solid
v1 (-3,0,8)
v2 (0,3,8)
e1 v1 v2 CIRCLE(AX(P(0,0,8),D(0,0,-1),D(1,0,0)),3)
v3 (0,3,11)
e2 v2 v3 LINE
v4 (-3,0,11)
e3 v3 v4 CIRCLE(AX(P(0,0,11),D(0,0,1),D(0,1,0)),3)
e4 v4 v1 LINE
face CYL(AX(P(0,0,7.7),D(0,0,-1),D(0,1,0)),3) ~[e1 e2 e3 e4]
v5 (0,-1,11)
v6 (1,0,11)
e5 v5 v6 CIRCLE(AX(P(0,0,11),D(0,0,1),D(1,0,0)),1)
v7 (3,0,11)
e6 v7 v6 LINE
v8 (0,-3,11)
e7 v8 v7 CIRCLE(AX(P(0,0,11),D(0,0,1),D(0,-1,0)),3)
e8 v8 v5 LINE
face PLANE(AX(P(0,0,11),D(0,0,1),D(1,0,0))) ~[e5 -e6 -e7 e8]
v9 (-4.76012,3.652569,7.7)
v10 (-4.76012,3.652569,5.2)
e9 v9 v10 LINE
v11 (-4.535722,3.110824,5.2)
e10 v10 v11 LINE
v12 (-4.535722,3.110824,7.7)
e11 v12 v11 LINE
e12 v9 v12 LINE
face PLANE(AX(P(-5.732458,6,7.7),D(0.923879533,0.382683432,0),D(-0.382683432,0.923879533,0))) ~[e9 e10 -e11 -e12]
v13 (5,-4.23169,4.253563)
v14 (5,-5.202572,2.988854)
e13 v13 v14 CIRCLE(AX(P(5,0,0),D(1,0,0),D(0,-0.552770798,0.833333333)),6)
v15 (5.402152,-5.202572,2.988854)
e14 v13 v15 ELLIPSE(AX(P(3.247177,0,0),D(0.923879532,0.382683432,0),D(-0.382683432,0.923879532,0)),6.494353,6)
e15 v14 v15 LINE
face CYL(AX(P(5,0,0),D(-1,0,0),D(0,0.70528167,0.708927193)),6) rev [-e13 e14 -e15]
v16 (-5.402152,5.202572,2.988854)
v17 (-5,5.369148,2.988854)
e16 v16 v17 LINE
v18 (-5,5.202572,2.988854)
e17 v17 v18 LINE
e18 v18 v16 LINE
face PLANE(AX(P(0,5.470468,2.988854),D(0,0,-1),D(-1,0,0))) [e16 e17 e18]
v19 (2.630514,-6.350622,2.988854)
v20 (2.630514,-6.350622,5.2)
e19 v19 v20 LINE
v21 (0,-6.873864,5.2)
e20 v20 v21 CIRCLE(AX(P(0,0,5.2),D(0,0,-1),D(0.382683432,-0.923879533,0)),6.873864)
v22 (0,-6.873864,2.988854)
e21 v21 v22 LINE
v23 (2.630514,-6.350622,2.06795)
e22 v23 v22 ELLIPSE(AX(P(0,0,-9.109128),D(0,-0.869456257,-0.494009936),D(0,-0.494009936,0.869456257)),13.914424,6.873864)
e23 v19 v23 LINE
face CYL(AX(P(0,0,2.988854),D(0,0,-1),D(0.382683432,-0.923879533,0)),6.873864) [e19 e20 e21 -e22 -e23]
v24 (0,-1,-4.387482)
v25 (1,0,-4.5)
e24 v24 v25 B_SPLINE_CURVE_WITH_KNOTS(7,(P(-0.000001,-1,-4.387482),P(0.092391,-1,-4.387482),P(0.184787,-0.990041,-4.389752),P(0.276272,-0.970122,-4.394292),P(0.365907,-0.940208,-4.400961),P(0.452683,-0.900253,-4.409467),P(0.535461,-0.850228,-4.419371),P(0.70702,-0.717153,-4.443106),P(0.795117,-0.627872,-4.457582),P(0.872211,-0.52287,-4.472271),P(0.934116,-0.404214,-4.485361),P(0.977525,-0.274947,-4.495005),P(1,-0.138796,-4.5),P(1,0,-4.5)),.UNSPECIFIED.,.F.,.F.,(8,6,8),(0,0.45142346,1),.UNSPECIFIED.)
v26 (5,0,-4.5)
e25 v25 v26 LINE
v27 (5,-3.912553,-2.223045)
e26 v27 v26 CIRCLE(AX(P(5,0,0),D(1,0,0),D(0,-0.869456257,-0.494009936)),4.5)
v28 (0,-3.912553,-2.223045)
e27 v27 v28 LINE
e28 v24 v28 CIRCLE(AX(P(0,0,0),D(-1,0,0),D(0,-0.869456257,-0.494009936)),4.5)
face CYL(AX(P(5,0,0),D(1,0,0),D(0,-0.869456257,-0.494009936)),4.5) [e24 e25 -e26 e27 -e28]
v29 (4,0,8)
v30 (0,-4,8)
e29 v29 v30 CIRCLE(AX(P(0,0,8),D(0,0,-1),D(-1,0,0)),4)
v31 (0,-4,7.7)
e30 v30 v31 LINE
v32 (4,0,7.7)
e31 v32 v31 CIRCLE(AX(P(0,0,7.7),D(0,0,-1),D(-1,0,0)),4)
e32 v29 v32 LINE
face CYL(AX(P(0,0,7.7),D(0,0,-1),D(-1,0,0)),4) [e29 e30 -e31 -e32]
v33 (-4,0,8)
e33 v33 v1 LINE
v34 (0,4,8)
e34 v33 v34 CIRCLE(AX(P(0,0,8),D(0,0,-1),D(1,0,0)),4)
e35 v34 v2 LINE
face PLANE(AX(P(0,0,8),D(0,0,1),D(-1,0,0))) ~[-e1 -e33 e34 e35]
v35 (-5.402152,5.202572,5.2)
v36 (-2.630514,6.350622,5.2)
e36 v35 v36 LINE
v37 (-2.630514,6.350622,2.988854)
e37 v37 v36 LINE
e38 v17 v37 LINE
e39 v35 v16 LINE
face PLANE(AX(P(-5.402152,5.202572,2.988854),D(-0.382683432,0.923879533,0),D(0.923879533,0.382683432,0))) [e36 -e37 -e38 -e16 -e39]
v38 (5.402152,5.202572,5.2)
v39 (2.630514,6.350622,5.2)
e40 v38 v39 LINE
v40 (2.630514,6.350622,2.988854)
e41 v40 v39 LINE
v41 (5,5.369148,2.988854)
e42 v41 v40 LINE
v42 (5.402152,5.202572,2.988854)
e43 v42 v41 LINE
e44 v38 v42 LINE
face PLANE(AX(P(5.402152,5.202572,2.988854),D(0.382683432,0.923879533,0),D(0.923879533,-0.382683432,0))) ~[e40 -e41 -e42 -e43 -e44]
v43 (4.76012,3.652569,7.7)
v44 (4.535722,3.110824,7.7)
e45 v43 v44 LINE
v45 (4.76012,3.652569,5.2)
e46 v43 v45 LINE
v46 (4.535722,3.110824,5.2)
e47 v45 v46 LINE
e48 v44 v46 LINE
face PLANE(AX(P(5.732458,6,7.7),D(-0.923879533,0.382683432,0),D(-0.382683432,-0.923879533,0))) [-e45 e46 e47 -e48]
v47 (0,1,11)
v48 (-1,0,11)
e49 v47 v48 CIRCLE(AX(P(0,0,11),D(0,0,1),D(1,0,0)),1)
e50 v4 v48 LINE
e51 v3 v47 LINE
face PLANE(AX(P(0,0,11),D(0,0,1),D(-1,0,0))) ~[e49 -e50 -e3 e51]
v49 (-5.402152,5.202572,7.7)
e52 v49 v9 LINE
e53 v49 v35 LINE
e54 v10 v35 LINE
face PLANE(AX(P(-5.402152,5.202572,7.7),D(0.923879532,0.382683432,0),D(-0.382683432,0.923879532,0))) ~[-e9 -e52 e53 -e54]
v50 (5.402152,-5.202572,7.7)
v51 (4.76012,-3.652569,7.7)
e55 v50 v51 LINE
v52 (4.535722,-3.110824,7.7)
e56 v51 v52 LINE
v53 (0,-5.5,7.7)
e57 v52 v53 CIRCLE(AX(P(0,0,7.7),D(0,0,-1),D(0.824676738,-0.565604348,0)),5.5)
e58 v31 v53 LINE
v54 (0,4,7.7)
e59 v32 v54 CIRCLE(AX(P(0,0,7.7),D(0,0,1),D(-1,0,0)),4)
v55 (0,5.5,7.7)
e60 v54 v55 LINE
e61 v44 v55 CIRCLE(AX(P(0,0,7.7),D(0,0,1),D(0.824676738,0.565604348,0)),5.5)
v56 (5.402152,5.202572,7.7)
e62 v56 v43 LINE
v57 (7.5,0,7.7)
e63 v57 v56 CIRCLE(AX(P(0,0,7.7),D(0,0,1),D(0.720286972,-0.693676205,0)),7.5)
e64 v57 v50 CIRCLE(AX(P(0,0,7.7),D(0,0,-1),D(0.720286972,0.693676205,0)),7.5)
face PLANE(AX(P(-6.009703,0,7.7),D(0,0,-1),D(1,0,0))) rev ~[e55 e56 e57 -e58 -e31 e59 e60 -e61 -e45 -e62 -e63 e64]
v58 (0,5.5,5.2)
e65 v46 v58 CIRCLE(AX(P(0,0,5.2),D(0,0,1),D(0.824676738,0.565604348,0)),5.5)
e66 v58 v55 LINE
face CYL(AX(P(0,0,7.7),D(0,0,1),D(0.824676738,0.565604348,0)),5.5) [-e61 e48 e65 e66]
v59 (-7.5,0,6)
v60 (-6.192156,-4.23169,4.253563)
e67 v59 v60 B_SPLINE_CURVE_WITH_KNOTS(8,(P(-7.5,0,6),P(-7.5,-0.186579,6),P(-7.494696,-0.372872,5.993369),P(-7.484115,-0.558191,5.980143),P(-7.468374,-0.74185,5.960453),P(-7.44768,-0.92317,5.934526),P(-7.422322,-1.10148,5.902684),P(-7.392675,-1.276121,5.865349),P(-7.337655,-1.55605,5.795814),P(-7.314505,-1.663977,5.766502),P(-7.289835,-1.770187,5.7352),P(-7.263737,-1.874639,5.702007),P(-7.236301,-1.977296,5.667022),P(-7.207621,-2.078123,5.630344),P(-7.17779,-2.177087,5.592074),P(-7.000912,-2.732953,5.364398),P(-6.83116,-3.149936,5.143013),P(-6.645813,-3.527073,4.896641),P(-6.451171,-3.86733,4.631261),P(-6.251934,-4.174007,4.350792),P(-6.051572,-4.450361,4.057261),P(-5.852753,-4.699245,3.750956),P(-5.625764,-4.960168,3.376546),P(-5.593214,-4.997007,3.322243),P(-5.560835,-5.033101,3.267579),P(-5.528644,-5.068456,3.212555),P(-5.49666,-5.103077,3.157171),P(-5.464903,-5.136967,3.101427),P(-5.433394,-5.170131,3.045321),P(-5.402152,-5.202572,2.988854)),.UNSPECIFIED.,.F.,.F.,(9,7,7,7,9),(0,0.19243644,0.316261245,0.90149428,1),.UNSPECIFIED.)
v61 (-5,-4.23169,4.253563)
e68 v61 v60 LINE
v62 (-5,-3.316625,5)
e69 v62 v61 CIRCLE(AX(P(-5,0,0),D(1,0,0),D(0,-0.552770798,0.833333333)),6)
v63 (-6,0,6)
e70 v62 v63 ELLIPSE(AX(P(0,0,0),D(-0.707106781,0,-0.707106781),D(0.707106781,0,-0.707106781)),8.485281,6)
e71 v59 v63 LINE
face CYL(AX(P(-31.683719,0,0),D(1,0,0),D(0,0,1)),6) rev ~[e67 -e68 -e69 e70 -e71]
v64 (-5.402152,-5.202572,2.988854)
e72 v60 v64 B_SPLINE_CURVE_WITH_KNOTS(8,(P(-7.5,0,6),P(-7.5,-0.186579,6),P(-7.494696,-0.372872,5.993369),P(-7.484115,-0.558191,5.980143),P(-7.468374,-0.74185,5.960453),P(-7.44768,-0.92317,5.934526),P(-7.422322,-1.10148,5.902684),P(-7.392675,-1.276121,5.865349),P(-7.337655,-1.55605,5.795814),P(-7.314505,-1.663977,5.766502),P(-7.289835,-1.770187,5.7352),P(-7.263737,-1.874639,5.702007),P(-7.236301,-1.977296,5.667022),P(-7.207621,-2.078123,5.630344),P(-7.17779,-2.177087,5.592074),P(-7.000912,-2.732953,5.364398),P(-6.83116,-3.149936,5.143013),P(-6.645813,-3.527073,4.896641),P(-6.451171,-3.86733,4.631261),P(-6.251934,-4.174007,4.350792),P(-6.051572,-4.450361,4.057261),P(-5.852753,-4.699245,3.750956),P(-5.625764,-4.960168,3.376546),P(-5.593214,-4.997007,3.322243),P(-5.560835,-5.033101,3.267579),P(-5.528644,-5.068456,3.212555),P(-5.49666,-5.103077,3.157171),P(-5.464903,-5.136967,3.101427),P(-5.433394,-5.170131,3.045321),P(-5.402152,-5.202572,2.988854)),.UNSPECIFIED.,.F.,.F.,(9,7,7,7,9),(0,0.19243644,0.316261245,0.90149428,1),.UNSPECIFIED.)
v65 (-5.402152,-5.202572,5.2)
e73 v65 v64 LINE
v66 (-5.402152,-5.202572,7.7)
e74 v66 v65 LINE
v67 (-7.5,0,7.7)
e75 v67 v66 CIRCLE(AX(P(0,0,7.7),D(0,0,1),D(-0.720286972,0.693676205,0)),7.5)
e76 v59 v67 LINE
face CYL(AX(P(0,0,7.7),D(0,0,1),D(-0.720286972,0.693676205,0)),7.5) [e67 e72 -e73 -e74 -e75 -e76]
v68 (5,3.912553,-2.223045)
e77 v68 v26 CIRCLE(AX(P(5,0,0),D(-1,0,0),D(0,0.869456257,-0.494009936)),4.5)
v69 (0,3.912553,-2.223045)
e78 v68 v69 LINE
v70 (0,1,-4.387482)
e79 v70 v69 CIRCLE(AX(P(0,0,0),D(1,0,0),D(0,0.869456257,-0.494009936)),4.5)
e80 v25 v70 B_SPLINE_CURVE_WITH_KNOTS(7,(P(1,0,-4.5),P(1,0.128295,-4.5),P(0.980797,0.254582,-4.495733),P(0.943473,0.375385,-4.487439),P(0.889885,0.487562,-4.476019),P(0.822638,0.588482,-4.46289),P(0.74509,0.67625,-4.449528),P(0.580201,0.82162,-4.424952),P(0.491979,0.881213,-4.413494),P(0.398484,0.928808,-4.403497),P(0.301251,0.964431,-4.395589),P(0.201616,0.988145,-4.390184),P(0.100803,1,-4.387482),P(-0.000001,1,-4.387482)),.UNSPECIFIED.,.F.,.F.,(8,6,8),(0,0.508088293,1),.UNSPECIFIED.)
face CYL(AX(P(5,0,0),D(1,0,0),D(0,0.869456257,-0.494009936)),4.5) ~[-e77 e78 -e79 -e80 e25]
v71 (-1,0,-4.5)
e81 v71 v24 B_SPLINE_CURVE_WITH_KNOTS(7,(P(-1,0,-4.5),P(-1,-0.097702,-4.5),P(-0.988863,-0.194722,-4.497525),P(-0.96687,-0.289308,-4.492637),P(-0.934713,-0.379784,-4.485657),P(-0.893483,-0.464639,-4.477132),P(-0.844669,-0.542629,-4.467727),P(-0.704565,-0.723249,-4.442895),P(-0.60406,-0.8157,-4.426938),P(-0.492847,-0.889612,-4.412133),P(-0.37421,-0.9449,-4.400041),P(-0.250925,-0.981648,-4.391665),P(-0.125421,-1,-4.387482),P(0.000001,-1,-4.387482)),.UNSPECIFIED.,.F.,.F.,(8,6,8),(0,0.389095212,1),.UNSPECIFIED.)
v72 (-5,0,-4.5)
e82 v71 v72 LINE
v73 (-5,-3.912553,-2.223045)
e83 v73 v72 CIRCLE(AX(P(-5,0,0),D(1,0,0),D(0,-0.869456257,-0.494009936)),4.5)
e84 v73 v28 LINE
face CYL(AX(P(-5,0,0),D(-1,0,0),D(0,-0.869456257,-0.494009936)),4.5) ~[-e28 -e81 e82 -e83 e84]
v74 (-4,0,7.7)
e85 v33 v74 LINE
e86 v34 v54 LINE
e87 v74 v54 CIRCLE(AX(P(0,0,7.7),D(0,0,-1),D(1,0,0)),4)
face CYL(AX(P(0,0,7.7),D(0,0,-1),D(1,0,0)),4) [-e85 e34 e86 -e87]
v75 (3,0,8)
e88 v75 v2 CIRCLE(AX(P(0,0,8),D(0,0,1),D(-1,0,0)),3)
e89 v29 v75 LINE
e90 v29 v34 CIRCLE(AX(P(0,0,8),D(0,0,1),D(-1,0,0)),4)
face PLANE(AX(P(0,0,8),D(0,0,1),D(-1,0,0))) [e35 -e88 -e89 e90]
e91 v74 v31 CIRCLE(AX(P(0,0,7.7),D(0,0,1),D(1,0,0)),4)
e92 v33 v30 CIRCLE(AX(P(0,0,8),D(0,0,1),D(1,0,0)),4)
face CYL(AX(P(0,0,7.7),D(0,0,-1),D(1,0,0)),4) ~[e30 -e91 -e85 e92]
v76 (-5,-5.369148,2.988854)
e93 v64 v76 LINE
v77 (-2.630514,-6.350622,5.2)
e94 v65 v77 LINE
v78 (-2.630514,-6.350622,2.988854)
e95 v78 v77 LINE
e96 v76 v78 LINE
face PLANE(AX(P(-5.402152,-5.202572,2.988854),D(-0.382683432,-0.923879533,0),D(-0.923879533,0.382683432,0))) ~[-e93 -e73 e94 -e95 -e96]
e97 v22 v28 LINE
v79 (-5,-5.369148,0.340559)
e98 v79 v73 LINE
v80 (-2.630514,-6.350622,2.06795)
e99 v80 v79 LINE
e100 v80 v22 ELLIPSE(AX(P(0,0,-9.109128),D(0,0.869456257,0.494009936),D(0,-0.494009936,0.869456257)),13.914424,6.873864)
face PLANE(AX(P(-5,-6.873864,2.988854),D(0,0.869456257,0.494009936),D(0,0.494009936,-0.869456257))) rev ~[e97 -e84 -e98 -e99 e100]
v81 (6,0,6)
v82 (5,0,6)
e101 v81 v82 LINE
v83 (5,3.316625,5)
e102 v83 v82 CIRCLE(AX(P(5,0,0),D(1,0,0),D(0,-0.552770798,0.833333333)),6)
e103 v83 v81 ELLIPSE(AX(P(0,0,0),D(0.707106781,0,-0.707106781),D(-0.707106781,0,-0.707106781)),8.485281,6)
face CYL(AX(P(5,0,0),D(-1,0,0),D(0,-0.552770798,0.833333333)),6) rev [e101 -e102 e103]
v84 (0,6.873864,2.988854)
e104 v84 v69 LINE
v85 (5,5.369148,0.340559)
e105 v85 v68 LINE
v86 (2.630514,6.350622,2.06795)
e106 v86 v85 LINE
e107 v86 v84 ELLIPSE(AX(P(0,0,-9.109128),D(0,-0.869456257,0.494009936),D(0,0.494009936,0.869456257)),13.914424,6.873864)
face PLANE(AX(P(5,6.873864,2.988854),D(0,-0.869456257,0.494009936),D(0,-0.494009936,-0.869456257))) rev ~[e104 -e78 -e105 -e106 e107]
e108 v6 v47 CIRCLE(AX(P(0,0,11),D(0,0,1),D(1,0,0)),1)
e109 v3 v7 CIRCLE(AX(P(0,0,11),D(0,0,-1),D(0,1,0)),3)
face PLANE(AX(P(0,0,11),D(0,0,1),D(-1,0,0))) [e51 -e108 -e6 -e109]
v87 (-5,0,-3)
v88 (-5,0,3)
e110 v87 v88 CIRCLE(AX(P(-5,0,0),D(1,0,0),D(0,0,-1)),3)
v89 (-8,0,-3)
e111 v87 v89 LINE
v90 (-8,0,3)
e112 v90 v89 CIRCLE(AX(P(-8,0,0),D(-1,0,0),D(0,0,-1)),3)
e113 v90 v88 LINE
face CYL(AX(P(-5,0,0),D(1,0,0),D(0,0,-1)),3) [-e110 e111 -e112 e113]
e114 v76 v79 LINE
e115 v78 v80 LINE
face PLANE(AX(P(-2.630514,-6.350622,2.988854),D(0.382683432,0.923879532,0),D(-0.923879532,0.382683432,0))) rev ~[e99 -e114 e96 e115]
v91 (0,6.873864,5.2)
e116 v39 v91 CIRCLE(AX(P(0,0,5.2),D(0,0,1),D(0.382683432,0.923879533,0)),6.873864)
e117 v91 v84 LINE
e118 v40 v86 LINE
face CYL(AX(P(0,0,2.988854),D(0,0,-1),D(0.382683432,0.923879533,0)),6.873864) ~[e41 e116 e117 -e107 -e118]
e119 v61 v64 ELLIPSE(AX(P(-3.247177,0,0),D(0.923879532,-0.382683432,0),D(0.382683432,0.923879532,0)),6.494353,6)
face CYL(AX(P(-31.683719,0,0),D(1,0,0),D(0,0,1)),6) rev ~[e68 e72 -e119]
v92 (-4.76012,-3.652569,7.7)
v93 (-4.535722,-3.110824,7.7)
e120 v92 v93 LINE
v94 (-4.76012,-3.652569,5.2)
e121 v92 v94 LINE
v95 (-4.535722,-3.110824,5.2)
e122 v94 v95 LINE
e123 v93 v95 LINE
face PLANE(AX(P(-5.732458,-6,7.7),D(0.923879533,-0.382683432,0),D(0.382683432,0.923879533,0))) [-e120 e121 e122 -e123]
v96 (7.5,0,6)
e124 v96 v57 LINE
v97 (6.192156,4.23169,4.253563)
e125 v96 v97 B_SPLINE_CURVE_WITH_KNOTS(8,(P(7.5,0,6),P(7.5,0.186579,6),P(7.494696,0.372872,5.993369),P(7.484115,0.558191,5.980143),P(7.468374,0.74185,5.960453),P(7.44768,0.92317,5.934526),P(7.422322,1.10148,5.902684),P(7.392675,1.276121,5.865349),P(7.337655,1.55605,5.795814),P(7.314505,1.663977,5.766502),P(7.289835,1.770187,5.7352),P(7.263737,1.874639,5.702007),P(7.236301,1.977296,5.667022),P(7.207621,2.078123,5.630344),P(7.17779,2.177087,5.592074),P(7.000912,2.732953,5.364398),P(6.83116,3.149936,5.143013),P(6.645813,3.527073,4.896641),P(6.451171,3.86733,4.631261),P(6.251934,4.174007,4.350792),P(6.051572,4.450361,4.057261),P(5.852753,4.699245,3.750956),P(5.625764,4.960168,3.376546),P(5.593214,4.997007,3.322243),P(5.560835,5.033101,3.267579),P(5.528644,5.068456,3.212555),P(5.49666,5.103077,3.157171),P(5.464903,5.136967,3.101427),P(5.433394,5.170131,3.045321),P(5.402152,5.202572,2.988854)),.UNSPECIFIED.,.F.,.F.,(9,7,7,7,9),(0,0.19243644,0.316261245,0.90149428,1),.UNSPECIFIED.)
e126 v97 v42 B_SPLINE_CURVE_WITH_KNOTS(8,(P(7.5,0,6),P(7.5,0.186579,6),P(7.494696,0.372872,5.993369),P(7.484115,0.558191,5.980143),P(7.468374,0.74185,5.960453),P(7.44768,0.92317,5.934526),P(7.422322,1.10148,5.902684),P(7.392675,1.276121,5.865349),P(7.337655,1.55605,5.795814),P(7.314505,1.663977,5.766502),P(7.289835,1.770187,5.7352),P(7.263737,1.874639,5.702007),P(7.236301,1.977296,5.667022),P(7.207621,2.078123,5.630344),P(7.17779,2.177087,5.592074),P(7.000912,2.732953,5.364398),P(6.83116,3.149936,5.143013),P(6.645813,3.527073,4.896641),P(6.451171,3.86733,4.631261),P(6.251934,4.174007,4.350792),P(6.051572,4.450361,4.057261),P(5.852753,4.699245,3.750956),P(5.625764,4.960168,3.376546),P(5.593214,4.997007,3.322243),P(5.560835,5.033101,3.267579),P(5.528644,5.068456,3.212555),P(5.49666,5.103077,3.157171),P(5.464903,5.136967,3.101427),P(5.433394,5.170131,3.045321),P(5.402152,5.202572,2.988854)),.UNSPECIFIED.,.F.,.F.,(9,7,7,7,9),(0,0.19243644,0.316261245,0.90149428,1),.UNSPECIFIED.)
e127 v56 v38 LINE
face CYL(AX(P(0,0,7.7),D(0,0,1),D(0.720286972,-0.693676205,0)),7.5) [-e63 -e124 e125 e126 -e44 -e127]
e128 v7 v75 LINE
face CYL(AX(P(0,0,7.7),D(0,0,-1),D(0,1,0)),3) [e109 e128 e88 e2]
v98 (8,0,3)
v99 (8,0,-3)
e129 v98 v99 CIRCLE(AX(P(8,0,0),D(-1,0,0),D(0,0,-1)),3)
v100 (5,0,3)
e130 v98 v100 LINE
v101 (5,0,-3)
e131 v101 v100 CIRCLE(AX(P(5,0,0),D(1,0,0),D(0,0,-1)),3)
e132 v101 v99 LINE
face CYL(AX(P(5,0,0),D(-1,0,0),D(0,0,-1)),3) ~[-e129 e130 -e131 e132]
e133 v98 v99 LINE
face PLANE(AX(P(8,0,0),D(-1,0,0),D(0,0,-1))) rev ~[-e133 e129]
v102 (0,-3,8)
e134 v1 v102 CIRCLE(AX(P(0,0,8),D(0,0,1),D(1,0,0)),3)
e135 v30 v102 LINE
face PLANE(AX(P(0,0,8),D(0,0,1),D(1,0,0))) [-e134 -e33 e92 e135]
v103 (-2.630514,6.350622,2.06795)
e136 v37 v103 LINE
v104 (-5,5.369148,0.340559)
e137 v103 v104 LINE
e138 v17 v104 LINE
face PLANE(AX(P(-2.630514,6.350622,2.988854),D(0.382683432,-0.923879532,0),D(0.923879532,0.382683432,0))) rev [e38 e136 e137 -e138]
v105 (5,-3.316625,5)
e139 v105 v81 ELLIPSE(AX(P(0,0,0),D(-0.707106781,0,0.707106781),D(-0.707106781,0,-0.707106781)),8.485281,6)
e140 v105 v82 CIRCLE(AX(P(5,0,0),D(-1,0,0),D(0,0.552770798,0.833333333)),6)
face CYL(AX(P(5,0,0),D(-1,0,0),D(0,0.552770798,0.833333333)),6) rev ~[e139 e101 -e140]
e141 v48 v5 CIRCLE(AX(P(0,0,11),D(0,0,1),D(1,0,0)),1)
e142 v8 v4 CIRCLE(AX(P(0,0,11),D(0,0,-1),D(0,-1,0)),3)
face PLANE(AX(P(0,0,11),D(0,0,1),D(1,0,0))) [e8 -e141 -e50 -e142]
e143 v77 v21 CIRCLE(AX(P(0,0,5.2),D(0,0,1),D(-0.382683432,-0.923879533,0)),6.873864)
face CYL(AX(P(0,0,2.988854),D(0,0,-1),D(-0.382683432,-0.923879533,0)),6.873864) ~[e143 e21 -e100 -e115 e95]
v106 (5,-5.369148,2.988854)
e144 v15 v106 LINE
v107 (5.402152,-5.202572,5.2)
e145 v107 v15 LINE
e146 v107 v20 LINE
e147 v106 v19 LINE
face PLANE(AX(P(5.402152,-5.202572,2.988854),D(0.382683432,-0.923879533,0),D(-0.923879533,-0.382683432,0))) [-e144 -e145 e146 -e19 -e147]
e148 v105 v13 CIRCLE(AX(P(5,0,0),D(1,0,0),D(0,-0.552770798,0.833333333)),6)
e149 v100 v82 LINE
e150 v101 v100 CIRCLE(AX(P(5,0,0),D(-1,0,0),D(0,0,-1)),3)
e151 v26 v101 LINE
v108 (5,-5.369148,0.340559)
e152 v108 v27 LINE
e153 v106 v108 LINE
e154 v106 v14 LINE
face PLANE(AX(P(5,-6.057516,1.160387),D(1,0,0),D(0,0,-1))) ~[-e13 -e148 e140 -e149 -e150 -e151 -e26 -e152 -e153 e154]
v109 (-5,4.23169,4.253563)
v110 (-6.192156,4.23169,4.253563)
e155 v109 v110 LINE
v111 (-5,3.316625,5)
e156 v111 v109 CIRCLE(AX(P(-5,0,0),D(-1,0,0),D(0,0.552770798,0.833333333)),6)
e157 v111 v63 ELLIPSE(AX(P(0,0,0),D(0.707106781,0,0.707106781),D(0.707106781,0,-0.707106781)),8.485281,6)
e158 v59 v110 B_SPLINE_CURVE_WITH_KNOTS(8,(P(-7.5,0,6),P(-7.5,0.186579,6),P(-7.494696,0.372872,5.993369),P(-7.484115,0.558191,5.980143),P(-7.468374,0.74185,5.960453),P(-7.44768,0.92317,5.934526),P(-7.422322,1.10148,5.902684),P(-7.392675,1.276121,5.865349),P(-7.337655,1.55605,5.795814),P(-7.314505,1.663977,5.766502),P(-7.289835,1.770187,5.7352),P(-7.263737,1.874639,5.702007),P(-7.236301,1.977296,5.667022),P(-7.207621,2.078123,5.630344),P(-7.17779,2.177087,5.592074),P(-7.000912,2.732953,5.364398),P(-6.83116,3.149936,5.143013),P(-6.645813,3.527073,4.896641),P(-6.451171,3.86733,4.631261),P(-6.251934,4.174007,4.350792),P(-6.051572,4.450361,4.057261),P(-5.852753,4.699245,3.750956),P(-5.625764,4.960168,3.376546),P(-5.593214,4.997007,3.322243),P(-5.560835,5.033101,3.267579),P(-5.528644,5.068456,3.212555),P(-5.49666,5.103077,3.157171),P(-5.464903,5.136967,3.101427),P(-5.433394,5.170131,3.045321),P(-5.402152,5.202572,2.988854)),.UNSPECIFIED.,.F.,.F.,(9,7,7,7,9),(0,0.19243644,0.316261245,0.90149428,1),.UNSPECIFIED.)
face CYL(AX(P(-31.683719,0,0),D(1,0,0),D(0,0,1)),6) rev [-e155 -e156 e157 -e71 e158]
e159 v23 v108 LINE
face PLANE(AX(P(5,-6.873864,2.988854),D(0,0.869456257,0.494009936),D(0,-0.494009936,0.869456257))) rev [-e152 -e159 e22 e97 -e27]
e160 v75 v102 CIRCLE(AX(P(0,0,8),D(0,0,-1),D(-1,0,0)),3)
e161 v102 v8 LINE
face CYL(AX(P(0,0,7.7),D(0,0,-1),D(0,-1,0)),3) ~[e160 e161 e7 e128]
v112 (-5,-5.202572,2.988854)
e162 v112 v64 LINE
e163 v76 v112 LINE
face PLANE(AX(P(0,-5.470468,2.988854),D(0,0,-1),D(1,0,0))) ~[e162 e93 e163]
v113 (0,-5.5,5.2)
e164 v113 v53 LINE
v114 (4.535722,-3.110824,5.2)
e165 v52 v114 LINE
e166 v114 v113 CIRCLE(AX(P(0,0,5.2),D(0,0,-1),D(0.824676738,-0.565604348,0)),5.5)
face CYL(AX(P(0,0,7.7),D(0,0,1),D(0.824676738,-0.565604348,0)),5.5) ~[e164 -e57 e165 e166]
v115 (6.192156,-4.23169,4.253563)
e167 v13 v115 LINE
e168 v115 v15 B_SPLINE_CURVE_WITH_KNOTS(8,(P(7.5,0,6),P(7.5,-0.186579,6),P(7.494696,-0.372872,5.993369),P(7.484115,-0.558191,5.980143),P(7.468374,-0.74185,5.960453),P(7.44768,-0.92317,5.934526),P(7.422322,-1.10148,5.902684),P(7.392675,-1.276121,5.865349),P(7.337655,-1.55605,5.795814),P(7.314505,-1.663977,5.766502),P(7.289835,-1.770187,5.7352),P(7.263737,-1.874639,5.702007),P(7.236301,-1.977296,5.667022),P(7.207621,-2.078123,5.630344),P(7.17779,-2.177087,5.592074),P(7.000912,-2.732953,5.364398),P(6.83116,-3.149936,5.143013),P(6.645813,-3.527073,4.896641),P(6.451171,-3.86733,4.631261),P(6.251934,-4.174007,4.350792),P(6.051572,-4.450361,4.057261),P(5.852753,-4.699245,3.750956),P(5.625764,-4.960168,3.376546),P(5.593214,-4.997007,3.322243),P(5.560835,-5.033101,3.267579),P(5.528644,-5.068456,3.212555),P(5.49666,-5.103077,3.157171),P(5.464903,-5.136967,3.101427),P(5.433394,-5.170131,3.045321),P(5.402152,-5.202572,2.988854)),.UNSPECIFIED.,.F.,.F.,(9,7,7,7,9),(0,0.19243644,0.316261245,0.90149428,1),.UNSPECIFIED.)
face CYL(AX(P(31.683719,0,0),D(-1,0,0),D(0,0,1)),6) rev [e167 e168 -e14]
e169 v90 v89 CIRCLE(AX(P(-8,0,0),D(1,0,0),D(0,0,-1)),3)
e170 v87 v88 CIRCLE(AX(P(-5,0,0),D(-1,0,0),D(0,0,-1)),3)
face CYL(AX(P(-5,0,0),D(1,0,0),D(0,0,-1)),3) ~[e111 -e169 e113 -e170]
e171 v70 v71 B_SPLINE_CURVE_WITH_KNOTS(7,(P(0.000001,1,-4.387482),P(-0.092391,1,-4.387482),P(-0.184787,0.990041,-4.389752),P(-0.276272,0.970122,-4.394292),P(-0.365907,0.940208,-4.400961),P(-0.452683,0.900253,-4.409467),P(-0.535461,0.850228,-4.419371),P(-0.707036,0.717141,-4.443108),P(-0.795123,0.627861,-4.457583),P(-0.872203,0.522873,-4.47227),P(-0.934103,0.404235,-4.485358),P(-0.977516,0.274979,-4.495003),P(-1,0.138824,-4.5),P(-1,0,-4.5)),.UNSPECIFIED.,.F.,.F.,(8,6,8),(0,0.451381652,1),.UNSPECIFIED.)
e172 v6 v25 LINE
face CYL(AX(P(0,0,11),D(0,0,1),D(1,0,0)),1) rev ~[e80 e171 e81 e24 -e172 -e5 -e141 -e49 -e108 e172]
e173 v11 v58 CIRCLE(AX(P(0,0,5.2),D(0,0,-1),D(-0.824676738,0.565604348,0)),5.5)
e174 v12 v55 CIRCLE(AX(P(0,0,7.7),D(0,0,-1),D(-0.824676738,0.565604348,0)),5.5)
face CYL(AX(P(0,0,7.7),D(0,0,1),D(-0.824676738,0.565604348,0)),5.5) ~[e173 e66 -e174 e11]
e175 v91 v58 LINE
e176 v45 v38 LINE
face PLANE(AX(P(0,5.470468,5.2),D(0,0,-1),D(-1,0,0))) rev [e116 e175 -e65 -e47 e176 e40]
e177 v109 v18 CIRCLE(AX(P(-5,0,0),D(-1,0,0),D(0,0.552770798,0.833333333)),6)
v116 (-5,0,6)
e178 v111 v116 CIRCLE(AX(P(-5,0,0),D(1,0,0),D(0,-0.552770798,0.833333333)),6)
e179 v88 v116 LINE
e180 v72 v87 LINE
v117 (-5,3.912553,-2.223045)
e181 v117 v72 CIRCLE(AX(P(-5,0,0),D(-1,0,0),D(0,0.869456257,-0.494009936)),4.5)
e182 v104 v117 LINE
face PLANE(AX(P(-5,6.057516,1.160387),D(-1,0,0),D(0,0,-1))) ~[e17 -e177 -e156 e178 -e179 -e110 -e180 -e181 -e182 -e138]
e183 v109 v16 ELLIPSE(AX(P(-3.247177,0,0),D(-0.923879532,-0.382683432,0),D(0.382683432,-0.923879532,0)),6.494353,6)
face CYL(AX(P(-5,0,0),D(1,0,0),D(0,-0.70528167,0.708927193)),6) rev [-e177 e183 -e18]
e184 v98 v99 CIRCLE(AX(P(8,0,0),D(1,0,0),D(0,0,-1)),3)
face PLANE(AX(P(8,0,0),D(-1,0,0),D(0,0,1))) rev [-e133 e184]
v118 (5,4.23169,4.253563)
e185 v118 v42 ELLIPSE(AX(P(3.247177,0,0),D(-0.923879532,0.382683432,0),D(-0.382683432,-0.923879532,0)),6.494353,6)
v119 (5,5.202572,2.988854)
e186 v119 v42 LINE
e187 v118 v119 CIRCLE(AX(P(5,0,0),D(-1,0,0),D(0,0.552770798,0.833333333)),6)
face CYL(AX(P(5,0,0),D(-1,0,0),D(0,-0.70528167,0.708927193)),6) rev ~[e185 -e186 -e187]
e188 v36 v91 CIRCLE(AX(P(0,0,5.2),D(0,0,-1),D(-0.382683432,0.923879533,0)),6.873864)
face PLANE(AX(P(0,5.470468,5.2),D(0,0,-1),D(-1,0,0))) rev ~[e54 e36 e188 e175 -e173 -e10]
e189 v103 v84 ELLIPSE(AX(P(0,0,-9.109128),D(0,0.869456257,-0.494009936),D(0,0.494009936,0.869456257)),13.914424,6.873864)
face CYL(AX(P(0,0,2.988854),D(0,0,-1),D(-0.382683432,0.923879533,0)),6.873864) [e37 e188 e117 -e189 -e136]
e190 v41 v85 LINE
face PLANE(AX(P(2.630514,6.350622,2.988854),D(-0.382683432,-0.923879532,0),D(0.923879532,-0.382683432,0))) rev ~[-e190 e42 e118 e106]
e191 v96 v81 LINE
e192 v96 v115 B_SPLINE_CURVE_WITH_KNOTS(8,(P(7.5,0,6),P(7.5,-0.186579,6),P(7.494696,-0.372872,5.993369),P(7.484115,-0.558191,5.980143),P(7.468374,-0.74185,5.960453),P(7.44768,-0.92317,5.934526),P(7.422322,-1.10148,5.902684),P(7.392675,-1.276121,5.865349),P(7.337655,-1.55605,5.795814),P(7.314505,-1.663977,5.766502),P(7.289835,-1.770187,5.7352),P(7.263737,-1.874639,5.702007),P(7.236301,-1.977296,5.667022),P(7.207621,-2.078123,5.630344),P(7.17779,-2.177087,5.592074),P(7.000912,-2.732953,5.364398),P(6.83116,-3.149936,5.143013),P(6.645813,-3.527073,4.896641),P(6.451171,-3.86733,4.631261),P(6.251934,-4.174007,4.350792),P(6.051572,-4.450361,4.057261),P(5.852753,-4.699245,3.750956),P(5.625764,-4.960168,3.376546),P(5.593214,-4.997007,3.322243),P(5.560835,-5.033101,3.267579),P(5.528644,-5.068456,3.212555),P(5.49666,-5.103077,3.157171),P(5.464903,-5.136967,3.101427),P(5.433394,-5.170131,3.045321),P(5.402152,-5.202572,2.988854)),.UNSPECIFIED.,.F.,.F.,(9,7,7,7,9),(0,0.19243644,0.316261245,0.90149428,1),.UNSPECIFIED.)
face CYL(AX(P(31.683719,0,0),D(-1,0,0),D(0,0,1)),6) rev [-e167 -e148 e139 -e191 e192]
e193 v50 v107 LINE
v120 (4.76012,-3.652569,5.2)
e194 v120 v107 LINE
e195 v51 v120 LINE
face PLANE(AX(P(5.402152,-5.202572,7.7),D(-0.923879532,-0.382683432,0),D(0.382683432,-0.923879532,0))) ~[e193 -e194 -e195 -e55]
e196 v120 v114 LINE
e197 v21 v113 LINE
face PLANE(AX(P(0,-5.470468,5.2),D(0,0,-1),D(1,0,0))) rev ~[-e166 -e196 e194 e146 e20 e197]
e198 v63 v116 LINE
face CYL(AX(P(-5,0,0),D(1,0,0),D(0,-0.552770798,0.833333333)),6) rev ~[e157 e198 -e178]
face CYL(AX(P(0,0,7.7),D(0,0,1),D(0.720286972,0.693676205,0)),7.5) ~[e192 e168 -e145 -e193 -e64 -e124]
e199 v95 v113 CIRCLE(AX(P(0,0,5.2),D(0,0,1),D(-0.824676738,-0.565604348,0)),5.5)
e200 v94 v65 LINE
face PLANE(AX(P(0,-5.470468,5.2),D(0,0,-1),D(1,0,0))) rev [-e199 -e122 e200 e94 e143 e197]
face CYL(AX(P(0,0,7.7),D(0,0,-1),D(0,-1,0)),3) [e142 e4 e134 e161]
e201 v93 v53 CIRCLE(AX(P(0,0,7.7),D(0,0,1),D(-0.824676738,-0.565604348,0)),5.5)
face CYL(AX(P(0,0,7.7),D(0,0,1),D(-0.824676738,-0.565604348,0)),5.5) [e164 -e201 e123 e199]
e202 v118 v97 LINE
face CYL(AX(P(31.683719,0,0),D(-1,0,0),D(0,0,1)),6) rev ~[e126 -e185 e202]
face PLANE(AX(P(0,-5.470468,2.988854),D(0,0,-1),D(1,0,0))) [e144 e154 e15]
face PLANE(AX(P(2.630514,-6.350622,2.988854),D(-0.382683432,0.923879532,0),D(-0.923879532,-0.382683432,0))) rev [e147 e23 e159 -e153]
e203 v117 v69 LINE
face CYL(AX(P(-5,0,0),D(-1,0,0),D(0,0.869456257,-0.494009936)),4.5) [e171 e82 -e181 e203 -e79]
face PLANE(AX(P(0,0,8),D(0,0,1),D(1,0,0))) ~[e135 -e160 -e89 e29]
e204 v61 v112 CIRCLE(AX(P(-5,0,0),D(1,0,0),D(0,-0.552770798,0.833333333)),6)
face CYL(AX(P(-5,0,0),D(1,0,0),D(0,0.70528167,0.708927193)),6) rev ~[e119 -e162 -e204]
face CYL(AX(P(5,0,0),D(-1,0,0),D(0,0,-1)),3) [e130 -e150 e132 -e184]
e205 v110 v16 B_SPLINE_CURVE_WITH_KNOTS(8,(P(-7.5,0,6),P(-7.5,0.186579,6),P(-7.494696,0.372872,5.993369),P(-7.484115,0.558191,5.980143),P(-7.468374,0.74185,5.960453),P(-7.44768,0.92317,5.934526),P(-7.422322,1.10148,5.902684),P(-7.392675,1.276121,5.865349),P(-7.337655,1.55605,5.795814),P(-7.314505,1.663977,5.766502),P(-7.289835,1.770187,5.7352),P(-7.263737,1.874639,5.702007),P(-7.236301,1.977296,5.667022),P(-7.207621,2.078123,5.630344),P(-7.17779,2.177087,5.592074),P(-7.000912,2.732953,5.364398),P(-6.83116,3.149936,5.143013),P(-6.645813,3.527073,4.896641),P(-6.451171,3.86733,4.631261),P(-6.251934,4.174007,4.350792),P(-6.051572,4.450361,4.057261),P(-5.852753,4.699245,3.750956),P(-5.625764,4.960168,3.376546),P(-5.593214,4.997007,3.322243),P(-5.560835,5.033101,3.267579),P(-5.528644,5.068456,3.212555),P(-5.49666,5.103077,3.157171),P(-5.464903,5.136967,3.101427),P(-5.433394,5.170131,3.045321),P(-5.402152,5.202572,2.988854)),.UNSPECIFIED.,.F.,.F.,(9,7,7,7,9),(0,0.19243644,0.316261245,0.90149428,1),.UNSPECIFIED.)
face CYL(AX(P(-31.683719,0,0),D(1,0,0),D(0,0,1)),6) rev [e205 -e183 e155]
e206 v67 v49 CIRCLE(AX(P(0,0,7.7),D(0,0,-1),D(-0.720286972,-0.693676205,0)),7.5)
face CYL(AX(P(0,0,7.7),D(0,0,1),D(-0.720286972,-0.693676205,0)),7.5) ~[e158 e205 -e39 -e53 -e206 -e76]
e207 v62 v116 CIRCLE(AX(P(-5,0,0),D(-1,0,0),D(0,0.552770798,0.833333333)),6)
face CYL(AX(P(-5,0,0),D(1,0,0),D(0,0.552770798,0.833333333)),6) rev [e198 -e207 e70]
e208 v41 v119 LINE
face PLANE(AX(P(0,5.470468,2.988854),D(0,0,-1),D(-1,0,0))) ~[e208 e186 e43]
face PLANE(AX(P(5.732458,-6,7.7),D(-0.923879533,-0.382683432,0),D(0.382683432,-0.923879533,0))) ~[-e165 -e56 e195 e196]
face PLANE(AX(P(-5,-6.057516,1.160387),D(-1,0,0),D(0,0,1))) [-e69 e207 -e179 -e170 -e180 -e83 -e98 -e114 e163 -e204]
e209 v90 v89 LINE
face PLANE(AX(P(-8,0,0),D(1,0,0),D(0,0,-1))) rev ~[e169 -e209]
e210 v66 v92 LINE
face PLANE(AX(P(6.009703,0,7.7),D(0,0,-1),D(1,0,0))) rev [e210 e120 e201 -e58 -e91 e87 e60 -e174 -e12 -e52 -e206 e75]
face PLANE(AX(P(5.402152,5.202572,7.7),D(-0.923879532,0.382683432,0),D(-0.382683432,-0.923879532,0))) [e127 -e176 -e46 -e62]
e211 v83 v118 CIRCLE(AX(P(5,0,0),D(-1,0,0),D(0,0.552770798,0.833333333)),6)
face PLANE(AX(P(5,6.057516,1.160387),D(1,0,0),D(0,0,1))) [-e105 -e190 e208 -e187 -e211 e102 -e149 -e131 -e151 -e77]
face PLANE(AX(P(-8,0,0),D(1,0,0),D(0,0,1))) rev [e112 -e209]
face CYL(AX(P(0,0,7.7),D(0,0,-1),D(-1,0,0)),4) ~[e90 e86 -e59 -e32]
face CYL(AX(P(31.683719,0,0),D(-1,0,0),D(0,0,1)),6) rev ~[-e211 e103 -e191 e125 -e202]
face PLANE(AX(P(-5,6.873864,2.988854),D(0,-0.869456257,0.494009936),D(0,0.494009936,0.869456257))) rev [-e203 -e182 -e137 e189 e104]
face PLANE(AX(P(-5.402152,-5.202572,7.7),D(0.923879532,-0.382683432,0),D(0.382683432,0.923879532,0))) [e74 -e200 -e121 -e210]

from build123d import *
from build123d.topology import SkipClean

# Parameters (mm, degrees)
SKETCH1_R                = 6
BOSS_EXTRUDE1_DEPTH      = 11
SKETCH2_R                = 6
BOSS_EXTRUDE2_DEPTH      = 8
CUT_EXTRUDE1_DEPTH       = 10
CUT_EXTRUDE1_DEPTH_BACK  = 3
SKETCH3_R                = 6
SKETCH3_R_2              = 3
SKETCH5_W                = 8.868099488
SKETCH5_H                = 25.092164851
CUT_EXTRUDE3_DEPTH       = 20.723082923
CUT_EXTRUDE2_START       = -3.3
CUT_EXTRUDE2_DEPTH       = 3.3
CUT_EXTRUDE5_DEPTH       = 2.5
BOSS_EXTRUDE3_REACH      = 18.961
BOSS_EXTRUDE3_END_RADIUS = 6
BOSS_EXTRUDE4_START      = -2.211146
BOSS_EXTRUDE4_DEPTH      = 2.211146
SKETCH10_R               = 3
CUT_EXTRUDE6_DEPTH       = 19.364367672
SKETCH12_R               = 4
SKETCH12_R_2             = 3
BOSS_EXTRUDE5_DEPTH      = 0.3
BOSS_EXTRUDE6_START      = -5
BOSS_EXTRUDE6_DEPTH      = 10
CUT_EXTRUDE12_DEPTH      = 19.364367672
CUT_EXTRUDE9_DEPTH       = 14.244940814
SKETCH15_OUTSIDE_W       = 23.236
SKETCH15_OUTSIDE_H       = 20.984
SKETCH15_OUTSIDE_W_2     = 17.302035992
SKETCH15_OUTSIDE_H_2     = 16.797371099
CUT_EXTRUDE10_DEPTH      = 19.748333259
SKETCH16_R               = 1
CUT_EXTRUDE11_DEPTH      = 19.748333259


with BuildPart() as part:
    # Sketch1 → Boss-Extrude1 (new body)
    with BuildSketch(Plane.XY):
        Circle(SKETCH1_R)
    extrude(amount=BOSS_EXTRUDE1_DEPTH)

    # Sketch2 → Boss-Extrude2 (add, symmetric)
    with BuildSketch(Plane(origin=(0, 0, 0), x_dir=(0, 0, -1), z_dir=(1, 0, 0))):
        Circle(SKETCH2_R)
    extrude(amount=BOSS_EXTRUDE2_DEPTH, both=True)

    # Sketch3 → Cut-Extrude1 (cut, two sides: drawn at the far end of the back side and taken through both)
    with BuildSketch(Plane.ZY.offset(8).offset(-CUT_EXTRUDE1_DEPTH_BACK)):
        with Locations(Location((0, 0, 0), (0, 0, 33.557309762))):
            Circle(SKETCH3_R)
        with Locations(Location((0, 0, 0), (0, 0, 180))):
            Circle(SKETCH3_R_2, mode=Mode.SUBTRACT)
    extrude(amount=CUT_EXTRUDE1_DEPTH + CUT_EXTRUDE1_DEPTH_BACK, mode=Mode.SUBTRACT)

    # Sketch5 → Cut-Extrude3 (cut, through all)
    with BuildSketch(Plane.XY.offset(11)):
        with Locations((4.434049744, 3.885168382)):
            Rectangle(SKETCH5_W, SKETCH5_H)
    extrude(amount=-CUT_EXTRUDE3_DEPTH, mode=Mode.SUBTRACT)

    # Sketch4 → Cut-Extrude2 (cut)
    with BuildSketch(Plane.XY.offset(11).offset(CUT_EXTRUDE2_START)):
        with BuildLine():
            Line((0, 3), (0, 6))
            ThreePointArc((0, 6), (-6, 0), (0, -6))
            Line((0, -6), (0, -3))
            ThreePointArc((0, -3), (-3, 0), (0, 3))
        make_face()
    extrude(amount=CUT_EXTRUDE2_DEPTH, mode=Mode.SUBTRACT)

    # Mirror1: part across plane


with BuildPart() as part_1:
    with SkipClean():  # the faces are left unmerged after this step: merging them gives an invalid solid
        add(part.part)
        add(part.part.mirror(Plane(origin=(0, -8.660914044, -6), x_dir=(0, 0, 1), z_dir=(-1, 0, 0))))

    # Sketch7 → Cut-Extrude5 (cut)
    with BuildSketch(Plane.XY.offset(7.7)):
        with BuildLine():
            Line((-4.535722056, 3.110823914), (-5.732457975, 6))
            Line((-5.732457975, 6), (5.732457975, 6))
            Line((5.732457975, 6), (4.535722056, 3.110823914))
            ThreePointArc((4.535722056, 3.110823914), (0, 5.5), (-4.535722056, 3.110823914))
        make_face()
        with BuildLine():
            Line((4.535722056, -3.110823914), (5.732457975, -6))
            Line((5.732457975, -6), (-5.732457975, -6))
            Line((-5.732457975, -6), (-4.535722056, -3.110823914))
            ThreePointArc((-4.535722056, -3.110823914), (0, -5.5), (4.535722056, -3.110823914))
        make_face()
    extrude(amount=-CUT_EXTRUDE5_DEPTH, mode=Mode.SUBTRACT)

    # Boss-Extrude3: up to this cylinder (the profile starts outside it)
    with SkipClean():  # the faces are left unmerged after this step: merging them gives an invalid solid
        boss_extrude3_end = Plane(origin=(0, 0, 0), z_dir=(1, 0, 0)) * Cylinder(BOSS_EXTRUDE3_END_RADIUS, 63.367438, mode=Mode.PRIVATE)
        # Sketch8 → Boss-Extrude3 (add, up to the surface)
        with BuildSketch(Plane.XY.offset(7.7), mode=Mode.PRIVATE) as boss_extrude3_sk1:
            with BuildLine():
                Line((4.760120042, 3.652568574), (5.402152292, 5.202571539))
                ThreePointArc((5.402152292, 5.202571539), (7.5, 0), (5.402152292, -5.202571539))
                Line((5.402152292, -5.202571539), (4.760120042, -3.652568574))
                ThreePointArc((4.760120042, -3.652568574), (6, 0), (4.760120042, 3.652568574))
            make_face()
        boss_extrude3_tool1 = extrude(boss_extrude3_sk1.sketch, amount=-BOSS_EXTRUDE3_REACH, mode=Mode.PRIVATE) - boss_extrude3_end
        add(boss_extrude3_tool1.solids().sort_by_distance((6.222719, 0, 7.7))[0])
        # Sketch8 → Boss-Extrude3 (add, up to the surface)
        with BuildSketch(Plane.XY.offset(7.7), mode=Mode.PRIVATE) as boss_extrude3_sk2:
            with BuildLine():
                Line((-4.760120042, 3.652568574), (-5.402152292, 5.202571539))
                ThreePointArc((-5.402152292, 5.202571539), (-7.5, 0), (-5.402152292, -5.202571539))
                Line((-5.402152292, -5.202571539), (-4.760120042, -3.652568574))
                ThreePointArc((-4.760120042, -3.652568574), (-6, 0), (-4.760120042, 3.652568574))
            make_face()
        boss_extrude3_tool2 = extrude(boss_extrude3_sk2.sketch, amount=-BOSS_EXTRUDE3_REACH, mode=Mode.PRIVATE) - boss_extrude3_end
        add(boss_extrude3_tool2.solids().sort_by_distance((-6.222719, 0, 7.7))[0])

    # Sketch9 → Boss-Extrude4 (add)
    with SkipClean():  # the faces are left unmerged after this step: merging them gives an invalid solid
        with BuildSketch(Plane.XY.offset(5.2).offset(BOSS_EXTRUDE4_START)):
            with BuildLine():
                Line((2.630513694, 6.350621836), (5.402152292, 5.202571539))
                Line((5.402152292, 5.202571539), (4.760120042, 3.652568574))
                ThreePointArc((4.760120042, 3.652568574), (0, 6), (-4.760120042, 3.652568574))
                Line((-4.760120042, 3.652568574), (-5.402152292, 5.202571539))
                Line((-5.402152292, 5.202571539), (-2.630513694, 6.350621836))
                ThreePointArc((-2.630513694, 6.350621836), (0, 6.873863542), (2.630513694, 6.350621836))
            make_face()
        extrude(amount=BOSS_EXTRUDE4_DEPTH)

    # Sketch10 → Cut-Extrude6 (cut, through all)
    with SkipClean():  # the faces are left unmerged after this step: merging them gives an invalid solid
        with BuildSketch(Plane.ZY.offset(5)):
            with BuildLine():
                ThreePointArc((2.988854192, 5.202571539), (-5.94680377, -0.79719817), (4.25356316, -4.231690023))
                ThreePointArc((4.25356316, -4.231690023), (5.94680377, 0.79719817), (2.988854192, 5.202571539))
            make_face()
            with Locations(Location((0, 0, 0), (0, 0, 180))):
                Circle(SKETCH10_R, mode=Mode.SUBTRACT)
        extrude(amount=CUT_EXTRUDE6_DEPTH, mode=Mode.SUBTRACT)

    # Mirror2: part across plane


with BuildPart() as part_2:
    add(part_1.part)
    add(part_1.part.mirror(Plane.ZX))

    # Sketch12 → Boss-Extrude5 (add)
    with BuildSketch(Plane.XY.offset(7.7)):
        Circle(SKETCH12_R)
        Circle(SKETCH12_R_2, mode=Mode.SUBTRACT)
    extrude(amount=BOSS_EXTRUDE5_DEPTH)

    # Sketch13 → Boss-Extrude6 (add)
    with BuildSketch(Plane(origin=(0, 0, 0), x_dir=(0, 0, -1), z_dir=(1, 0, 0)).offset(BOSS_EXTRUDE6_START)):
        with BuildLine():
            Line((-2.988854192, -6.873863542), (-2.988854192, -5.202571539))
            ThreePointArc((-2.988854192, -5.202571539), (-0.863689726, -5.937511268), (1.38278621, -5.838484589))
            Line((1.38278621, -5.838484589), (-2.988854192, -6.873863542))
        make_face()
        with BuildLine():
            Line((-2.988854192, 5.202571539), (-2.988854192, 6.873863542))
            Line((-2.988854192, 6.873863542), (1.38278621, 5.838484589))
            ThreePointArc((1.38278621, 5.838484589), (-0.863689726, 5.937511268), (-2.988854192, 5.202571539))
        make_face()
    extrude(amount=BOSS_EXTRUDE6_DEPTH)

    # Sketch17 → Cut-Extrude12 (cut, through all)
    with BuildSketch(Plane.ZY.offset(5)):
        with BuildLine():
            Line((2.988854192, -6.873863542), (-2.223044712, -3.912553157))
            ThreePointArc((-2.223044712, -3.912553157), (-4.5, 0), (-2.223044712, 3.912553157))
            Line((-2.223044712, 3.912553157), (2.988854192, 6.873863542))
            Line((2.988854192, 6.873863542), (-1.38278621, 5.838484589))
            ThreePointArc((-1.38278621, 5.838484589), (-6, 0), (-1.38278621, -5.838484589))
            Line((-1.38278621, -5.838484589), (2.988854192, -6.873863542))
        make_face()
    extrude(amount=-CUT_EXTRUDE12_DEPTH, mode=Mode.SUBTRACT)

    # Sketch14 → Cut-Extrude9 (cut, through all)
    with BuildSketch(Plane(origin=(0, 0, 2.988854192), x_dir=(-1, 0, 0), z_dir=(0, 0, -1))):
        with BuildLine():
            Line((5, -16.873863542), (-5, -16.873863542))
            Line((-5, -16.873863542), (-5, -5.369148472))
            Line((-5, -5.369148472), (-2.630513694, -6.350621836))
            ThreePointArc((-2.630513694, -6.350621836), (-1.341024252, -6.741784182), (0, -6.873863542))
            ThreePointArc((0, -6.873863542), (1.341024252, -6.741784182), (2.630513694, -6.350621836))
            Line((2.630513694, -6.350621836), (5, -5.369148472))
            Line((5, -5.369148472), (5, -16.873863542))
        make_face()
    extrude(amount=CUT_EXTRUDE9_DEPTH, mode=Mode.SUBTRACT)

    # Sketch15 outside → Cut-Extrude10 (cut, through all)
    with SkipClean():  # the faces are left unmerged after this step: merging them gives an invalid solid
        with BuildSketch(Plane.XY.offset(11)):
            Rectangle(SKETCH15_OUTSIDE_W, SKETCH15_OUTSIDE_H)
            with Locations((-8.651017996, -8.398685549)):
                Rectangle(SKETCH15_OUTSIDE_W_2, SKETCH15_OUTSIDE_H_2, mode=Mode.SUBTRACT)
        extrude(amount=-CUT_EXTRUDE10_DEPTH, mode=Mode.SUBTRACT)

    # Mirror3: part across plane


with BuildPart() as part_3:
    add(part_2.part)
    add(part_2.part.mirror(Plane(origin=(0, 0, -4.5), x_dir=(0, 0, 1), z_dir=(0, 1, 0))))

    # Mirror4: part across face


with BuildPart() as part_4:
    with SkipClean():  # the faces are left unmerged after this step: merging them gives an invalid solid
        add(part_3.part)
        add(part_3.part.mirror(Plane(origin=(0, 0, 3.307079487), x_dir=(0, 0, 1), z_dir=(1, 0, 0))))

    # Sketch16 → Cut-Extrude11 (cut, through all)
    with SkipClean():  # the faces are left unmerged after this step: merging them gives an invalid solid
        with BuildSketch(Plane.XY.offset(11)):
            Circle(SKETCH16_R)
        extrude(amount=-CUT_EXTRUDE11_DEPTH, mode=Mode.SUBTRACT)


solid = part_4.part
